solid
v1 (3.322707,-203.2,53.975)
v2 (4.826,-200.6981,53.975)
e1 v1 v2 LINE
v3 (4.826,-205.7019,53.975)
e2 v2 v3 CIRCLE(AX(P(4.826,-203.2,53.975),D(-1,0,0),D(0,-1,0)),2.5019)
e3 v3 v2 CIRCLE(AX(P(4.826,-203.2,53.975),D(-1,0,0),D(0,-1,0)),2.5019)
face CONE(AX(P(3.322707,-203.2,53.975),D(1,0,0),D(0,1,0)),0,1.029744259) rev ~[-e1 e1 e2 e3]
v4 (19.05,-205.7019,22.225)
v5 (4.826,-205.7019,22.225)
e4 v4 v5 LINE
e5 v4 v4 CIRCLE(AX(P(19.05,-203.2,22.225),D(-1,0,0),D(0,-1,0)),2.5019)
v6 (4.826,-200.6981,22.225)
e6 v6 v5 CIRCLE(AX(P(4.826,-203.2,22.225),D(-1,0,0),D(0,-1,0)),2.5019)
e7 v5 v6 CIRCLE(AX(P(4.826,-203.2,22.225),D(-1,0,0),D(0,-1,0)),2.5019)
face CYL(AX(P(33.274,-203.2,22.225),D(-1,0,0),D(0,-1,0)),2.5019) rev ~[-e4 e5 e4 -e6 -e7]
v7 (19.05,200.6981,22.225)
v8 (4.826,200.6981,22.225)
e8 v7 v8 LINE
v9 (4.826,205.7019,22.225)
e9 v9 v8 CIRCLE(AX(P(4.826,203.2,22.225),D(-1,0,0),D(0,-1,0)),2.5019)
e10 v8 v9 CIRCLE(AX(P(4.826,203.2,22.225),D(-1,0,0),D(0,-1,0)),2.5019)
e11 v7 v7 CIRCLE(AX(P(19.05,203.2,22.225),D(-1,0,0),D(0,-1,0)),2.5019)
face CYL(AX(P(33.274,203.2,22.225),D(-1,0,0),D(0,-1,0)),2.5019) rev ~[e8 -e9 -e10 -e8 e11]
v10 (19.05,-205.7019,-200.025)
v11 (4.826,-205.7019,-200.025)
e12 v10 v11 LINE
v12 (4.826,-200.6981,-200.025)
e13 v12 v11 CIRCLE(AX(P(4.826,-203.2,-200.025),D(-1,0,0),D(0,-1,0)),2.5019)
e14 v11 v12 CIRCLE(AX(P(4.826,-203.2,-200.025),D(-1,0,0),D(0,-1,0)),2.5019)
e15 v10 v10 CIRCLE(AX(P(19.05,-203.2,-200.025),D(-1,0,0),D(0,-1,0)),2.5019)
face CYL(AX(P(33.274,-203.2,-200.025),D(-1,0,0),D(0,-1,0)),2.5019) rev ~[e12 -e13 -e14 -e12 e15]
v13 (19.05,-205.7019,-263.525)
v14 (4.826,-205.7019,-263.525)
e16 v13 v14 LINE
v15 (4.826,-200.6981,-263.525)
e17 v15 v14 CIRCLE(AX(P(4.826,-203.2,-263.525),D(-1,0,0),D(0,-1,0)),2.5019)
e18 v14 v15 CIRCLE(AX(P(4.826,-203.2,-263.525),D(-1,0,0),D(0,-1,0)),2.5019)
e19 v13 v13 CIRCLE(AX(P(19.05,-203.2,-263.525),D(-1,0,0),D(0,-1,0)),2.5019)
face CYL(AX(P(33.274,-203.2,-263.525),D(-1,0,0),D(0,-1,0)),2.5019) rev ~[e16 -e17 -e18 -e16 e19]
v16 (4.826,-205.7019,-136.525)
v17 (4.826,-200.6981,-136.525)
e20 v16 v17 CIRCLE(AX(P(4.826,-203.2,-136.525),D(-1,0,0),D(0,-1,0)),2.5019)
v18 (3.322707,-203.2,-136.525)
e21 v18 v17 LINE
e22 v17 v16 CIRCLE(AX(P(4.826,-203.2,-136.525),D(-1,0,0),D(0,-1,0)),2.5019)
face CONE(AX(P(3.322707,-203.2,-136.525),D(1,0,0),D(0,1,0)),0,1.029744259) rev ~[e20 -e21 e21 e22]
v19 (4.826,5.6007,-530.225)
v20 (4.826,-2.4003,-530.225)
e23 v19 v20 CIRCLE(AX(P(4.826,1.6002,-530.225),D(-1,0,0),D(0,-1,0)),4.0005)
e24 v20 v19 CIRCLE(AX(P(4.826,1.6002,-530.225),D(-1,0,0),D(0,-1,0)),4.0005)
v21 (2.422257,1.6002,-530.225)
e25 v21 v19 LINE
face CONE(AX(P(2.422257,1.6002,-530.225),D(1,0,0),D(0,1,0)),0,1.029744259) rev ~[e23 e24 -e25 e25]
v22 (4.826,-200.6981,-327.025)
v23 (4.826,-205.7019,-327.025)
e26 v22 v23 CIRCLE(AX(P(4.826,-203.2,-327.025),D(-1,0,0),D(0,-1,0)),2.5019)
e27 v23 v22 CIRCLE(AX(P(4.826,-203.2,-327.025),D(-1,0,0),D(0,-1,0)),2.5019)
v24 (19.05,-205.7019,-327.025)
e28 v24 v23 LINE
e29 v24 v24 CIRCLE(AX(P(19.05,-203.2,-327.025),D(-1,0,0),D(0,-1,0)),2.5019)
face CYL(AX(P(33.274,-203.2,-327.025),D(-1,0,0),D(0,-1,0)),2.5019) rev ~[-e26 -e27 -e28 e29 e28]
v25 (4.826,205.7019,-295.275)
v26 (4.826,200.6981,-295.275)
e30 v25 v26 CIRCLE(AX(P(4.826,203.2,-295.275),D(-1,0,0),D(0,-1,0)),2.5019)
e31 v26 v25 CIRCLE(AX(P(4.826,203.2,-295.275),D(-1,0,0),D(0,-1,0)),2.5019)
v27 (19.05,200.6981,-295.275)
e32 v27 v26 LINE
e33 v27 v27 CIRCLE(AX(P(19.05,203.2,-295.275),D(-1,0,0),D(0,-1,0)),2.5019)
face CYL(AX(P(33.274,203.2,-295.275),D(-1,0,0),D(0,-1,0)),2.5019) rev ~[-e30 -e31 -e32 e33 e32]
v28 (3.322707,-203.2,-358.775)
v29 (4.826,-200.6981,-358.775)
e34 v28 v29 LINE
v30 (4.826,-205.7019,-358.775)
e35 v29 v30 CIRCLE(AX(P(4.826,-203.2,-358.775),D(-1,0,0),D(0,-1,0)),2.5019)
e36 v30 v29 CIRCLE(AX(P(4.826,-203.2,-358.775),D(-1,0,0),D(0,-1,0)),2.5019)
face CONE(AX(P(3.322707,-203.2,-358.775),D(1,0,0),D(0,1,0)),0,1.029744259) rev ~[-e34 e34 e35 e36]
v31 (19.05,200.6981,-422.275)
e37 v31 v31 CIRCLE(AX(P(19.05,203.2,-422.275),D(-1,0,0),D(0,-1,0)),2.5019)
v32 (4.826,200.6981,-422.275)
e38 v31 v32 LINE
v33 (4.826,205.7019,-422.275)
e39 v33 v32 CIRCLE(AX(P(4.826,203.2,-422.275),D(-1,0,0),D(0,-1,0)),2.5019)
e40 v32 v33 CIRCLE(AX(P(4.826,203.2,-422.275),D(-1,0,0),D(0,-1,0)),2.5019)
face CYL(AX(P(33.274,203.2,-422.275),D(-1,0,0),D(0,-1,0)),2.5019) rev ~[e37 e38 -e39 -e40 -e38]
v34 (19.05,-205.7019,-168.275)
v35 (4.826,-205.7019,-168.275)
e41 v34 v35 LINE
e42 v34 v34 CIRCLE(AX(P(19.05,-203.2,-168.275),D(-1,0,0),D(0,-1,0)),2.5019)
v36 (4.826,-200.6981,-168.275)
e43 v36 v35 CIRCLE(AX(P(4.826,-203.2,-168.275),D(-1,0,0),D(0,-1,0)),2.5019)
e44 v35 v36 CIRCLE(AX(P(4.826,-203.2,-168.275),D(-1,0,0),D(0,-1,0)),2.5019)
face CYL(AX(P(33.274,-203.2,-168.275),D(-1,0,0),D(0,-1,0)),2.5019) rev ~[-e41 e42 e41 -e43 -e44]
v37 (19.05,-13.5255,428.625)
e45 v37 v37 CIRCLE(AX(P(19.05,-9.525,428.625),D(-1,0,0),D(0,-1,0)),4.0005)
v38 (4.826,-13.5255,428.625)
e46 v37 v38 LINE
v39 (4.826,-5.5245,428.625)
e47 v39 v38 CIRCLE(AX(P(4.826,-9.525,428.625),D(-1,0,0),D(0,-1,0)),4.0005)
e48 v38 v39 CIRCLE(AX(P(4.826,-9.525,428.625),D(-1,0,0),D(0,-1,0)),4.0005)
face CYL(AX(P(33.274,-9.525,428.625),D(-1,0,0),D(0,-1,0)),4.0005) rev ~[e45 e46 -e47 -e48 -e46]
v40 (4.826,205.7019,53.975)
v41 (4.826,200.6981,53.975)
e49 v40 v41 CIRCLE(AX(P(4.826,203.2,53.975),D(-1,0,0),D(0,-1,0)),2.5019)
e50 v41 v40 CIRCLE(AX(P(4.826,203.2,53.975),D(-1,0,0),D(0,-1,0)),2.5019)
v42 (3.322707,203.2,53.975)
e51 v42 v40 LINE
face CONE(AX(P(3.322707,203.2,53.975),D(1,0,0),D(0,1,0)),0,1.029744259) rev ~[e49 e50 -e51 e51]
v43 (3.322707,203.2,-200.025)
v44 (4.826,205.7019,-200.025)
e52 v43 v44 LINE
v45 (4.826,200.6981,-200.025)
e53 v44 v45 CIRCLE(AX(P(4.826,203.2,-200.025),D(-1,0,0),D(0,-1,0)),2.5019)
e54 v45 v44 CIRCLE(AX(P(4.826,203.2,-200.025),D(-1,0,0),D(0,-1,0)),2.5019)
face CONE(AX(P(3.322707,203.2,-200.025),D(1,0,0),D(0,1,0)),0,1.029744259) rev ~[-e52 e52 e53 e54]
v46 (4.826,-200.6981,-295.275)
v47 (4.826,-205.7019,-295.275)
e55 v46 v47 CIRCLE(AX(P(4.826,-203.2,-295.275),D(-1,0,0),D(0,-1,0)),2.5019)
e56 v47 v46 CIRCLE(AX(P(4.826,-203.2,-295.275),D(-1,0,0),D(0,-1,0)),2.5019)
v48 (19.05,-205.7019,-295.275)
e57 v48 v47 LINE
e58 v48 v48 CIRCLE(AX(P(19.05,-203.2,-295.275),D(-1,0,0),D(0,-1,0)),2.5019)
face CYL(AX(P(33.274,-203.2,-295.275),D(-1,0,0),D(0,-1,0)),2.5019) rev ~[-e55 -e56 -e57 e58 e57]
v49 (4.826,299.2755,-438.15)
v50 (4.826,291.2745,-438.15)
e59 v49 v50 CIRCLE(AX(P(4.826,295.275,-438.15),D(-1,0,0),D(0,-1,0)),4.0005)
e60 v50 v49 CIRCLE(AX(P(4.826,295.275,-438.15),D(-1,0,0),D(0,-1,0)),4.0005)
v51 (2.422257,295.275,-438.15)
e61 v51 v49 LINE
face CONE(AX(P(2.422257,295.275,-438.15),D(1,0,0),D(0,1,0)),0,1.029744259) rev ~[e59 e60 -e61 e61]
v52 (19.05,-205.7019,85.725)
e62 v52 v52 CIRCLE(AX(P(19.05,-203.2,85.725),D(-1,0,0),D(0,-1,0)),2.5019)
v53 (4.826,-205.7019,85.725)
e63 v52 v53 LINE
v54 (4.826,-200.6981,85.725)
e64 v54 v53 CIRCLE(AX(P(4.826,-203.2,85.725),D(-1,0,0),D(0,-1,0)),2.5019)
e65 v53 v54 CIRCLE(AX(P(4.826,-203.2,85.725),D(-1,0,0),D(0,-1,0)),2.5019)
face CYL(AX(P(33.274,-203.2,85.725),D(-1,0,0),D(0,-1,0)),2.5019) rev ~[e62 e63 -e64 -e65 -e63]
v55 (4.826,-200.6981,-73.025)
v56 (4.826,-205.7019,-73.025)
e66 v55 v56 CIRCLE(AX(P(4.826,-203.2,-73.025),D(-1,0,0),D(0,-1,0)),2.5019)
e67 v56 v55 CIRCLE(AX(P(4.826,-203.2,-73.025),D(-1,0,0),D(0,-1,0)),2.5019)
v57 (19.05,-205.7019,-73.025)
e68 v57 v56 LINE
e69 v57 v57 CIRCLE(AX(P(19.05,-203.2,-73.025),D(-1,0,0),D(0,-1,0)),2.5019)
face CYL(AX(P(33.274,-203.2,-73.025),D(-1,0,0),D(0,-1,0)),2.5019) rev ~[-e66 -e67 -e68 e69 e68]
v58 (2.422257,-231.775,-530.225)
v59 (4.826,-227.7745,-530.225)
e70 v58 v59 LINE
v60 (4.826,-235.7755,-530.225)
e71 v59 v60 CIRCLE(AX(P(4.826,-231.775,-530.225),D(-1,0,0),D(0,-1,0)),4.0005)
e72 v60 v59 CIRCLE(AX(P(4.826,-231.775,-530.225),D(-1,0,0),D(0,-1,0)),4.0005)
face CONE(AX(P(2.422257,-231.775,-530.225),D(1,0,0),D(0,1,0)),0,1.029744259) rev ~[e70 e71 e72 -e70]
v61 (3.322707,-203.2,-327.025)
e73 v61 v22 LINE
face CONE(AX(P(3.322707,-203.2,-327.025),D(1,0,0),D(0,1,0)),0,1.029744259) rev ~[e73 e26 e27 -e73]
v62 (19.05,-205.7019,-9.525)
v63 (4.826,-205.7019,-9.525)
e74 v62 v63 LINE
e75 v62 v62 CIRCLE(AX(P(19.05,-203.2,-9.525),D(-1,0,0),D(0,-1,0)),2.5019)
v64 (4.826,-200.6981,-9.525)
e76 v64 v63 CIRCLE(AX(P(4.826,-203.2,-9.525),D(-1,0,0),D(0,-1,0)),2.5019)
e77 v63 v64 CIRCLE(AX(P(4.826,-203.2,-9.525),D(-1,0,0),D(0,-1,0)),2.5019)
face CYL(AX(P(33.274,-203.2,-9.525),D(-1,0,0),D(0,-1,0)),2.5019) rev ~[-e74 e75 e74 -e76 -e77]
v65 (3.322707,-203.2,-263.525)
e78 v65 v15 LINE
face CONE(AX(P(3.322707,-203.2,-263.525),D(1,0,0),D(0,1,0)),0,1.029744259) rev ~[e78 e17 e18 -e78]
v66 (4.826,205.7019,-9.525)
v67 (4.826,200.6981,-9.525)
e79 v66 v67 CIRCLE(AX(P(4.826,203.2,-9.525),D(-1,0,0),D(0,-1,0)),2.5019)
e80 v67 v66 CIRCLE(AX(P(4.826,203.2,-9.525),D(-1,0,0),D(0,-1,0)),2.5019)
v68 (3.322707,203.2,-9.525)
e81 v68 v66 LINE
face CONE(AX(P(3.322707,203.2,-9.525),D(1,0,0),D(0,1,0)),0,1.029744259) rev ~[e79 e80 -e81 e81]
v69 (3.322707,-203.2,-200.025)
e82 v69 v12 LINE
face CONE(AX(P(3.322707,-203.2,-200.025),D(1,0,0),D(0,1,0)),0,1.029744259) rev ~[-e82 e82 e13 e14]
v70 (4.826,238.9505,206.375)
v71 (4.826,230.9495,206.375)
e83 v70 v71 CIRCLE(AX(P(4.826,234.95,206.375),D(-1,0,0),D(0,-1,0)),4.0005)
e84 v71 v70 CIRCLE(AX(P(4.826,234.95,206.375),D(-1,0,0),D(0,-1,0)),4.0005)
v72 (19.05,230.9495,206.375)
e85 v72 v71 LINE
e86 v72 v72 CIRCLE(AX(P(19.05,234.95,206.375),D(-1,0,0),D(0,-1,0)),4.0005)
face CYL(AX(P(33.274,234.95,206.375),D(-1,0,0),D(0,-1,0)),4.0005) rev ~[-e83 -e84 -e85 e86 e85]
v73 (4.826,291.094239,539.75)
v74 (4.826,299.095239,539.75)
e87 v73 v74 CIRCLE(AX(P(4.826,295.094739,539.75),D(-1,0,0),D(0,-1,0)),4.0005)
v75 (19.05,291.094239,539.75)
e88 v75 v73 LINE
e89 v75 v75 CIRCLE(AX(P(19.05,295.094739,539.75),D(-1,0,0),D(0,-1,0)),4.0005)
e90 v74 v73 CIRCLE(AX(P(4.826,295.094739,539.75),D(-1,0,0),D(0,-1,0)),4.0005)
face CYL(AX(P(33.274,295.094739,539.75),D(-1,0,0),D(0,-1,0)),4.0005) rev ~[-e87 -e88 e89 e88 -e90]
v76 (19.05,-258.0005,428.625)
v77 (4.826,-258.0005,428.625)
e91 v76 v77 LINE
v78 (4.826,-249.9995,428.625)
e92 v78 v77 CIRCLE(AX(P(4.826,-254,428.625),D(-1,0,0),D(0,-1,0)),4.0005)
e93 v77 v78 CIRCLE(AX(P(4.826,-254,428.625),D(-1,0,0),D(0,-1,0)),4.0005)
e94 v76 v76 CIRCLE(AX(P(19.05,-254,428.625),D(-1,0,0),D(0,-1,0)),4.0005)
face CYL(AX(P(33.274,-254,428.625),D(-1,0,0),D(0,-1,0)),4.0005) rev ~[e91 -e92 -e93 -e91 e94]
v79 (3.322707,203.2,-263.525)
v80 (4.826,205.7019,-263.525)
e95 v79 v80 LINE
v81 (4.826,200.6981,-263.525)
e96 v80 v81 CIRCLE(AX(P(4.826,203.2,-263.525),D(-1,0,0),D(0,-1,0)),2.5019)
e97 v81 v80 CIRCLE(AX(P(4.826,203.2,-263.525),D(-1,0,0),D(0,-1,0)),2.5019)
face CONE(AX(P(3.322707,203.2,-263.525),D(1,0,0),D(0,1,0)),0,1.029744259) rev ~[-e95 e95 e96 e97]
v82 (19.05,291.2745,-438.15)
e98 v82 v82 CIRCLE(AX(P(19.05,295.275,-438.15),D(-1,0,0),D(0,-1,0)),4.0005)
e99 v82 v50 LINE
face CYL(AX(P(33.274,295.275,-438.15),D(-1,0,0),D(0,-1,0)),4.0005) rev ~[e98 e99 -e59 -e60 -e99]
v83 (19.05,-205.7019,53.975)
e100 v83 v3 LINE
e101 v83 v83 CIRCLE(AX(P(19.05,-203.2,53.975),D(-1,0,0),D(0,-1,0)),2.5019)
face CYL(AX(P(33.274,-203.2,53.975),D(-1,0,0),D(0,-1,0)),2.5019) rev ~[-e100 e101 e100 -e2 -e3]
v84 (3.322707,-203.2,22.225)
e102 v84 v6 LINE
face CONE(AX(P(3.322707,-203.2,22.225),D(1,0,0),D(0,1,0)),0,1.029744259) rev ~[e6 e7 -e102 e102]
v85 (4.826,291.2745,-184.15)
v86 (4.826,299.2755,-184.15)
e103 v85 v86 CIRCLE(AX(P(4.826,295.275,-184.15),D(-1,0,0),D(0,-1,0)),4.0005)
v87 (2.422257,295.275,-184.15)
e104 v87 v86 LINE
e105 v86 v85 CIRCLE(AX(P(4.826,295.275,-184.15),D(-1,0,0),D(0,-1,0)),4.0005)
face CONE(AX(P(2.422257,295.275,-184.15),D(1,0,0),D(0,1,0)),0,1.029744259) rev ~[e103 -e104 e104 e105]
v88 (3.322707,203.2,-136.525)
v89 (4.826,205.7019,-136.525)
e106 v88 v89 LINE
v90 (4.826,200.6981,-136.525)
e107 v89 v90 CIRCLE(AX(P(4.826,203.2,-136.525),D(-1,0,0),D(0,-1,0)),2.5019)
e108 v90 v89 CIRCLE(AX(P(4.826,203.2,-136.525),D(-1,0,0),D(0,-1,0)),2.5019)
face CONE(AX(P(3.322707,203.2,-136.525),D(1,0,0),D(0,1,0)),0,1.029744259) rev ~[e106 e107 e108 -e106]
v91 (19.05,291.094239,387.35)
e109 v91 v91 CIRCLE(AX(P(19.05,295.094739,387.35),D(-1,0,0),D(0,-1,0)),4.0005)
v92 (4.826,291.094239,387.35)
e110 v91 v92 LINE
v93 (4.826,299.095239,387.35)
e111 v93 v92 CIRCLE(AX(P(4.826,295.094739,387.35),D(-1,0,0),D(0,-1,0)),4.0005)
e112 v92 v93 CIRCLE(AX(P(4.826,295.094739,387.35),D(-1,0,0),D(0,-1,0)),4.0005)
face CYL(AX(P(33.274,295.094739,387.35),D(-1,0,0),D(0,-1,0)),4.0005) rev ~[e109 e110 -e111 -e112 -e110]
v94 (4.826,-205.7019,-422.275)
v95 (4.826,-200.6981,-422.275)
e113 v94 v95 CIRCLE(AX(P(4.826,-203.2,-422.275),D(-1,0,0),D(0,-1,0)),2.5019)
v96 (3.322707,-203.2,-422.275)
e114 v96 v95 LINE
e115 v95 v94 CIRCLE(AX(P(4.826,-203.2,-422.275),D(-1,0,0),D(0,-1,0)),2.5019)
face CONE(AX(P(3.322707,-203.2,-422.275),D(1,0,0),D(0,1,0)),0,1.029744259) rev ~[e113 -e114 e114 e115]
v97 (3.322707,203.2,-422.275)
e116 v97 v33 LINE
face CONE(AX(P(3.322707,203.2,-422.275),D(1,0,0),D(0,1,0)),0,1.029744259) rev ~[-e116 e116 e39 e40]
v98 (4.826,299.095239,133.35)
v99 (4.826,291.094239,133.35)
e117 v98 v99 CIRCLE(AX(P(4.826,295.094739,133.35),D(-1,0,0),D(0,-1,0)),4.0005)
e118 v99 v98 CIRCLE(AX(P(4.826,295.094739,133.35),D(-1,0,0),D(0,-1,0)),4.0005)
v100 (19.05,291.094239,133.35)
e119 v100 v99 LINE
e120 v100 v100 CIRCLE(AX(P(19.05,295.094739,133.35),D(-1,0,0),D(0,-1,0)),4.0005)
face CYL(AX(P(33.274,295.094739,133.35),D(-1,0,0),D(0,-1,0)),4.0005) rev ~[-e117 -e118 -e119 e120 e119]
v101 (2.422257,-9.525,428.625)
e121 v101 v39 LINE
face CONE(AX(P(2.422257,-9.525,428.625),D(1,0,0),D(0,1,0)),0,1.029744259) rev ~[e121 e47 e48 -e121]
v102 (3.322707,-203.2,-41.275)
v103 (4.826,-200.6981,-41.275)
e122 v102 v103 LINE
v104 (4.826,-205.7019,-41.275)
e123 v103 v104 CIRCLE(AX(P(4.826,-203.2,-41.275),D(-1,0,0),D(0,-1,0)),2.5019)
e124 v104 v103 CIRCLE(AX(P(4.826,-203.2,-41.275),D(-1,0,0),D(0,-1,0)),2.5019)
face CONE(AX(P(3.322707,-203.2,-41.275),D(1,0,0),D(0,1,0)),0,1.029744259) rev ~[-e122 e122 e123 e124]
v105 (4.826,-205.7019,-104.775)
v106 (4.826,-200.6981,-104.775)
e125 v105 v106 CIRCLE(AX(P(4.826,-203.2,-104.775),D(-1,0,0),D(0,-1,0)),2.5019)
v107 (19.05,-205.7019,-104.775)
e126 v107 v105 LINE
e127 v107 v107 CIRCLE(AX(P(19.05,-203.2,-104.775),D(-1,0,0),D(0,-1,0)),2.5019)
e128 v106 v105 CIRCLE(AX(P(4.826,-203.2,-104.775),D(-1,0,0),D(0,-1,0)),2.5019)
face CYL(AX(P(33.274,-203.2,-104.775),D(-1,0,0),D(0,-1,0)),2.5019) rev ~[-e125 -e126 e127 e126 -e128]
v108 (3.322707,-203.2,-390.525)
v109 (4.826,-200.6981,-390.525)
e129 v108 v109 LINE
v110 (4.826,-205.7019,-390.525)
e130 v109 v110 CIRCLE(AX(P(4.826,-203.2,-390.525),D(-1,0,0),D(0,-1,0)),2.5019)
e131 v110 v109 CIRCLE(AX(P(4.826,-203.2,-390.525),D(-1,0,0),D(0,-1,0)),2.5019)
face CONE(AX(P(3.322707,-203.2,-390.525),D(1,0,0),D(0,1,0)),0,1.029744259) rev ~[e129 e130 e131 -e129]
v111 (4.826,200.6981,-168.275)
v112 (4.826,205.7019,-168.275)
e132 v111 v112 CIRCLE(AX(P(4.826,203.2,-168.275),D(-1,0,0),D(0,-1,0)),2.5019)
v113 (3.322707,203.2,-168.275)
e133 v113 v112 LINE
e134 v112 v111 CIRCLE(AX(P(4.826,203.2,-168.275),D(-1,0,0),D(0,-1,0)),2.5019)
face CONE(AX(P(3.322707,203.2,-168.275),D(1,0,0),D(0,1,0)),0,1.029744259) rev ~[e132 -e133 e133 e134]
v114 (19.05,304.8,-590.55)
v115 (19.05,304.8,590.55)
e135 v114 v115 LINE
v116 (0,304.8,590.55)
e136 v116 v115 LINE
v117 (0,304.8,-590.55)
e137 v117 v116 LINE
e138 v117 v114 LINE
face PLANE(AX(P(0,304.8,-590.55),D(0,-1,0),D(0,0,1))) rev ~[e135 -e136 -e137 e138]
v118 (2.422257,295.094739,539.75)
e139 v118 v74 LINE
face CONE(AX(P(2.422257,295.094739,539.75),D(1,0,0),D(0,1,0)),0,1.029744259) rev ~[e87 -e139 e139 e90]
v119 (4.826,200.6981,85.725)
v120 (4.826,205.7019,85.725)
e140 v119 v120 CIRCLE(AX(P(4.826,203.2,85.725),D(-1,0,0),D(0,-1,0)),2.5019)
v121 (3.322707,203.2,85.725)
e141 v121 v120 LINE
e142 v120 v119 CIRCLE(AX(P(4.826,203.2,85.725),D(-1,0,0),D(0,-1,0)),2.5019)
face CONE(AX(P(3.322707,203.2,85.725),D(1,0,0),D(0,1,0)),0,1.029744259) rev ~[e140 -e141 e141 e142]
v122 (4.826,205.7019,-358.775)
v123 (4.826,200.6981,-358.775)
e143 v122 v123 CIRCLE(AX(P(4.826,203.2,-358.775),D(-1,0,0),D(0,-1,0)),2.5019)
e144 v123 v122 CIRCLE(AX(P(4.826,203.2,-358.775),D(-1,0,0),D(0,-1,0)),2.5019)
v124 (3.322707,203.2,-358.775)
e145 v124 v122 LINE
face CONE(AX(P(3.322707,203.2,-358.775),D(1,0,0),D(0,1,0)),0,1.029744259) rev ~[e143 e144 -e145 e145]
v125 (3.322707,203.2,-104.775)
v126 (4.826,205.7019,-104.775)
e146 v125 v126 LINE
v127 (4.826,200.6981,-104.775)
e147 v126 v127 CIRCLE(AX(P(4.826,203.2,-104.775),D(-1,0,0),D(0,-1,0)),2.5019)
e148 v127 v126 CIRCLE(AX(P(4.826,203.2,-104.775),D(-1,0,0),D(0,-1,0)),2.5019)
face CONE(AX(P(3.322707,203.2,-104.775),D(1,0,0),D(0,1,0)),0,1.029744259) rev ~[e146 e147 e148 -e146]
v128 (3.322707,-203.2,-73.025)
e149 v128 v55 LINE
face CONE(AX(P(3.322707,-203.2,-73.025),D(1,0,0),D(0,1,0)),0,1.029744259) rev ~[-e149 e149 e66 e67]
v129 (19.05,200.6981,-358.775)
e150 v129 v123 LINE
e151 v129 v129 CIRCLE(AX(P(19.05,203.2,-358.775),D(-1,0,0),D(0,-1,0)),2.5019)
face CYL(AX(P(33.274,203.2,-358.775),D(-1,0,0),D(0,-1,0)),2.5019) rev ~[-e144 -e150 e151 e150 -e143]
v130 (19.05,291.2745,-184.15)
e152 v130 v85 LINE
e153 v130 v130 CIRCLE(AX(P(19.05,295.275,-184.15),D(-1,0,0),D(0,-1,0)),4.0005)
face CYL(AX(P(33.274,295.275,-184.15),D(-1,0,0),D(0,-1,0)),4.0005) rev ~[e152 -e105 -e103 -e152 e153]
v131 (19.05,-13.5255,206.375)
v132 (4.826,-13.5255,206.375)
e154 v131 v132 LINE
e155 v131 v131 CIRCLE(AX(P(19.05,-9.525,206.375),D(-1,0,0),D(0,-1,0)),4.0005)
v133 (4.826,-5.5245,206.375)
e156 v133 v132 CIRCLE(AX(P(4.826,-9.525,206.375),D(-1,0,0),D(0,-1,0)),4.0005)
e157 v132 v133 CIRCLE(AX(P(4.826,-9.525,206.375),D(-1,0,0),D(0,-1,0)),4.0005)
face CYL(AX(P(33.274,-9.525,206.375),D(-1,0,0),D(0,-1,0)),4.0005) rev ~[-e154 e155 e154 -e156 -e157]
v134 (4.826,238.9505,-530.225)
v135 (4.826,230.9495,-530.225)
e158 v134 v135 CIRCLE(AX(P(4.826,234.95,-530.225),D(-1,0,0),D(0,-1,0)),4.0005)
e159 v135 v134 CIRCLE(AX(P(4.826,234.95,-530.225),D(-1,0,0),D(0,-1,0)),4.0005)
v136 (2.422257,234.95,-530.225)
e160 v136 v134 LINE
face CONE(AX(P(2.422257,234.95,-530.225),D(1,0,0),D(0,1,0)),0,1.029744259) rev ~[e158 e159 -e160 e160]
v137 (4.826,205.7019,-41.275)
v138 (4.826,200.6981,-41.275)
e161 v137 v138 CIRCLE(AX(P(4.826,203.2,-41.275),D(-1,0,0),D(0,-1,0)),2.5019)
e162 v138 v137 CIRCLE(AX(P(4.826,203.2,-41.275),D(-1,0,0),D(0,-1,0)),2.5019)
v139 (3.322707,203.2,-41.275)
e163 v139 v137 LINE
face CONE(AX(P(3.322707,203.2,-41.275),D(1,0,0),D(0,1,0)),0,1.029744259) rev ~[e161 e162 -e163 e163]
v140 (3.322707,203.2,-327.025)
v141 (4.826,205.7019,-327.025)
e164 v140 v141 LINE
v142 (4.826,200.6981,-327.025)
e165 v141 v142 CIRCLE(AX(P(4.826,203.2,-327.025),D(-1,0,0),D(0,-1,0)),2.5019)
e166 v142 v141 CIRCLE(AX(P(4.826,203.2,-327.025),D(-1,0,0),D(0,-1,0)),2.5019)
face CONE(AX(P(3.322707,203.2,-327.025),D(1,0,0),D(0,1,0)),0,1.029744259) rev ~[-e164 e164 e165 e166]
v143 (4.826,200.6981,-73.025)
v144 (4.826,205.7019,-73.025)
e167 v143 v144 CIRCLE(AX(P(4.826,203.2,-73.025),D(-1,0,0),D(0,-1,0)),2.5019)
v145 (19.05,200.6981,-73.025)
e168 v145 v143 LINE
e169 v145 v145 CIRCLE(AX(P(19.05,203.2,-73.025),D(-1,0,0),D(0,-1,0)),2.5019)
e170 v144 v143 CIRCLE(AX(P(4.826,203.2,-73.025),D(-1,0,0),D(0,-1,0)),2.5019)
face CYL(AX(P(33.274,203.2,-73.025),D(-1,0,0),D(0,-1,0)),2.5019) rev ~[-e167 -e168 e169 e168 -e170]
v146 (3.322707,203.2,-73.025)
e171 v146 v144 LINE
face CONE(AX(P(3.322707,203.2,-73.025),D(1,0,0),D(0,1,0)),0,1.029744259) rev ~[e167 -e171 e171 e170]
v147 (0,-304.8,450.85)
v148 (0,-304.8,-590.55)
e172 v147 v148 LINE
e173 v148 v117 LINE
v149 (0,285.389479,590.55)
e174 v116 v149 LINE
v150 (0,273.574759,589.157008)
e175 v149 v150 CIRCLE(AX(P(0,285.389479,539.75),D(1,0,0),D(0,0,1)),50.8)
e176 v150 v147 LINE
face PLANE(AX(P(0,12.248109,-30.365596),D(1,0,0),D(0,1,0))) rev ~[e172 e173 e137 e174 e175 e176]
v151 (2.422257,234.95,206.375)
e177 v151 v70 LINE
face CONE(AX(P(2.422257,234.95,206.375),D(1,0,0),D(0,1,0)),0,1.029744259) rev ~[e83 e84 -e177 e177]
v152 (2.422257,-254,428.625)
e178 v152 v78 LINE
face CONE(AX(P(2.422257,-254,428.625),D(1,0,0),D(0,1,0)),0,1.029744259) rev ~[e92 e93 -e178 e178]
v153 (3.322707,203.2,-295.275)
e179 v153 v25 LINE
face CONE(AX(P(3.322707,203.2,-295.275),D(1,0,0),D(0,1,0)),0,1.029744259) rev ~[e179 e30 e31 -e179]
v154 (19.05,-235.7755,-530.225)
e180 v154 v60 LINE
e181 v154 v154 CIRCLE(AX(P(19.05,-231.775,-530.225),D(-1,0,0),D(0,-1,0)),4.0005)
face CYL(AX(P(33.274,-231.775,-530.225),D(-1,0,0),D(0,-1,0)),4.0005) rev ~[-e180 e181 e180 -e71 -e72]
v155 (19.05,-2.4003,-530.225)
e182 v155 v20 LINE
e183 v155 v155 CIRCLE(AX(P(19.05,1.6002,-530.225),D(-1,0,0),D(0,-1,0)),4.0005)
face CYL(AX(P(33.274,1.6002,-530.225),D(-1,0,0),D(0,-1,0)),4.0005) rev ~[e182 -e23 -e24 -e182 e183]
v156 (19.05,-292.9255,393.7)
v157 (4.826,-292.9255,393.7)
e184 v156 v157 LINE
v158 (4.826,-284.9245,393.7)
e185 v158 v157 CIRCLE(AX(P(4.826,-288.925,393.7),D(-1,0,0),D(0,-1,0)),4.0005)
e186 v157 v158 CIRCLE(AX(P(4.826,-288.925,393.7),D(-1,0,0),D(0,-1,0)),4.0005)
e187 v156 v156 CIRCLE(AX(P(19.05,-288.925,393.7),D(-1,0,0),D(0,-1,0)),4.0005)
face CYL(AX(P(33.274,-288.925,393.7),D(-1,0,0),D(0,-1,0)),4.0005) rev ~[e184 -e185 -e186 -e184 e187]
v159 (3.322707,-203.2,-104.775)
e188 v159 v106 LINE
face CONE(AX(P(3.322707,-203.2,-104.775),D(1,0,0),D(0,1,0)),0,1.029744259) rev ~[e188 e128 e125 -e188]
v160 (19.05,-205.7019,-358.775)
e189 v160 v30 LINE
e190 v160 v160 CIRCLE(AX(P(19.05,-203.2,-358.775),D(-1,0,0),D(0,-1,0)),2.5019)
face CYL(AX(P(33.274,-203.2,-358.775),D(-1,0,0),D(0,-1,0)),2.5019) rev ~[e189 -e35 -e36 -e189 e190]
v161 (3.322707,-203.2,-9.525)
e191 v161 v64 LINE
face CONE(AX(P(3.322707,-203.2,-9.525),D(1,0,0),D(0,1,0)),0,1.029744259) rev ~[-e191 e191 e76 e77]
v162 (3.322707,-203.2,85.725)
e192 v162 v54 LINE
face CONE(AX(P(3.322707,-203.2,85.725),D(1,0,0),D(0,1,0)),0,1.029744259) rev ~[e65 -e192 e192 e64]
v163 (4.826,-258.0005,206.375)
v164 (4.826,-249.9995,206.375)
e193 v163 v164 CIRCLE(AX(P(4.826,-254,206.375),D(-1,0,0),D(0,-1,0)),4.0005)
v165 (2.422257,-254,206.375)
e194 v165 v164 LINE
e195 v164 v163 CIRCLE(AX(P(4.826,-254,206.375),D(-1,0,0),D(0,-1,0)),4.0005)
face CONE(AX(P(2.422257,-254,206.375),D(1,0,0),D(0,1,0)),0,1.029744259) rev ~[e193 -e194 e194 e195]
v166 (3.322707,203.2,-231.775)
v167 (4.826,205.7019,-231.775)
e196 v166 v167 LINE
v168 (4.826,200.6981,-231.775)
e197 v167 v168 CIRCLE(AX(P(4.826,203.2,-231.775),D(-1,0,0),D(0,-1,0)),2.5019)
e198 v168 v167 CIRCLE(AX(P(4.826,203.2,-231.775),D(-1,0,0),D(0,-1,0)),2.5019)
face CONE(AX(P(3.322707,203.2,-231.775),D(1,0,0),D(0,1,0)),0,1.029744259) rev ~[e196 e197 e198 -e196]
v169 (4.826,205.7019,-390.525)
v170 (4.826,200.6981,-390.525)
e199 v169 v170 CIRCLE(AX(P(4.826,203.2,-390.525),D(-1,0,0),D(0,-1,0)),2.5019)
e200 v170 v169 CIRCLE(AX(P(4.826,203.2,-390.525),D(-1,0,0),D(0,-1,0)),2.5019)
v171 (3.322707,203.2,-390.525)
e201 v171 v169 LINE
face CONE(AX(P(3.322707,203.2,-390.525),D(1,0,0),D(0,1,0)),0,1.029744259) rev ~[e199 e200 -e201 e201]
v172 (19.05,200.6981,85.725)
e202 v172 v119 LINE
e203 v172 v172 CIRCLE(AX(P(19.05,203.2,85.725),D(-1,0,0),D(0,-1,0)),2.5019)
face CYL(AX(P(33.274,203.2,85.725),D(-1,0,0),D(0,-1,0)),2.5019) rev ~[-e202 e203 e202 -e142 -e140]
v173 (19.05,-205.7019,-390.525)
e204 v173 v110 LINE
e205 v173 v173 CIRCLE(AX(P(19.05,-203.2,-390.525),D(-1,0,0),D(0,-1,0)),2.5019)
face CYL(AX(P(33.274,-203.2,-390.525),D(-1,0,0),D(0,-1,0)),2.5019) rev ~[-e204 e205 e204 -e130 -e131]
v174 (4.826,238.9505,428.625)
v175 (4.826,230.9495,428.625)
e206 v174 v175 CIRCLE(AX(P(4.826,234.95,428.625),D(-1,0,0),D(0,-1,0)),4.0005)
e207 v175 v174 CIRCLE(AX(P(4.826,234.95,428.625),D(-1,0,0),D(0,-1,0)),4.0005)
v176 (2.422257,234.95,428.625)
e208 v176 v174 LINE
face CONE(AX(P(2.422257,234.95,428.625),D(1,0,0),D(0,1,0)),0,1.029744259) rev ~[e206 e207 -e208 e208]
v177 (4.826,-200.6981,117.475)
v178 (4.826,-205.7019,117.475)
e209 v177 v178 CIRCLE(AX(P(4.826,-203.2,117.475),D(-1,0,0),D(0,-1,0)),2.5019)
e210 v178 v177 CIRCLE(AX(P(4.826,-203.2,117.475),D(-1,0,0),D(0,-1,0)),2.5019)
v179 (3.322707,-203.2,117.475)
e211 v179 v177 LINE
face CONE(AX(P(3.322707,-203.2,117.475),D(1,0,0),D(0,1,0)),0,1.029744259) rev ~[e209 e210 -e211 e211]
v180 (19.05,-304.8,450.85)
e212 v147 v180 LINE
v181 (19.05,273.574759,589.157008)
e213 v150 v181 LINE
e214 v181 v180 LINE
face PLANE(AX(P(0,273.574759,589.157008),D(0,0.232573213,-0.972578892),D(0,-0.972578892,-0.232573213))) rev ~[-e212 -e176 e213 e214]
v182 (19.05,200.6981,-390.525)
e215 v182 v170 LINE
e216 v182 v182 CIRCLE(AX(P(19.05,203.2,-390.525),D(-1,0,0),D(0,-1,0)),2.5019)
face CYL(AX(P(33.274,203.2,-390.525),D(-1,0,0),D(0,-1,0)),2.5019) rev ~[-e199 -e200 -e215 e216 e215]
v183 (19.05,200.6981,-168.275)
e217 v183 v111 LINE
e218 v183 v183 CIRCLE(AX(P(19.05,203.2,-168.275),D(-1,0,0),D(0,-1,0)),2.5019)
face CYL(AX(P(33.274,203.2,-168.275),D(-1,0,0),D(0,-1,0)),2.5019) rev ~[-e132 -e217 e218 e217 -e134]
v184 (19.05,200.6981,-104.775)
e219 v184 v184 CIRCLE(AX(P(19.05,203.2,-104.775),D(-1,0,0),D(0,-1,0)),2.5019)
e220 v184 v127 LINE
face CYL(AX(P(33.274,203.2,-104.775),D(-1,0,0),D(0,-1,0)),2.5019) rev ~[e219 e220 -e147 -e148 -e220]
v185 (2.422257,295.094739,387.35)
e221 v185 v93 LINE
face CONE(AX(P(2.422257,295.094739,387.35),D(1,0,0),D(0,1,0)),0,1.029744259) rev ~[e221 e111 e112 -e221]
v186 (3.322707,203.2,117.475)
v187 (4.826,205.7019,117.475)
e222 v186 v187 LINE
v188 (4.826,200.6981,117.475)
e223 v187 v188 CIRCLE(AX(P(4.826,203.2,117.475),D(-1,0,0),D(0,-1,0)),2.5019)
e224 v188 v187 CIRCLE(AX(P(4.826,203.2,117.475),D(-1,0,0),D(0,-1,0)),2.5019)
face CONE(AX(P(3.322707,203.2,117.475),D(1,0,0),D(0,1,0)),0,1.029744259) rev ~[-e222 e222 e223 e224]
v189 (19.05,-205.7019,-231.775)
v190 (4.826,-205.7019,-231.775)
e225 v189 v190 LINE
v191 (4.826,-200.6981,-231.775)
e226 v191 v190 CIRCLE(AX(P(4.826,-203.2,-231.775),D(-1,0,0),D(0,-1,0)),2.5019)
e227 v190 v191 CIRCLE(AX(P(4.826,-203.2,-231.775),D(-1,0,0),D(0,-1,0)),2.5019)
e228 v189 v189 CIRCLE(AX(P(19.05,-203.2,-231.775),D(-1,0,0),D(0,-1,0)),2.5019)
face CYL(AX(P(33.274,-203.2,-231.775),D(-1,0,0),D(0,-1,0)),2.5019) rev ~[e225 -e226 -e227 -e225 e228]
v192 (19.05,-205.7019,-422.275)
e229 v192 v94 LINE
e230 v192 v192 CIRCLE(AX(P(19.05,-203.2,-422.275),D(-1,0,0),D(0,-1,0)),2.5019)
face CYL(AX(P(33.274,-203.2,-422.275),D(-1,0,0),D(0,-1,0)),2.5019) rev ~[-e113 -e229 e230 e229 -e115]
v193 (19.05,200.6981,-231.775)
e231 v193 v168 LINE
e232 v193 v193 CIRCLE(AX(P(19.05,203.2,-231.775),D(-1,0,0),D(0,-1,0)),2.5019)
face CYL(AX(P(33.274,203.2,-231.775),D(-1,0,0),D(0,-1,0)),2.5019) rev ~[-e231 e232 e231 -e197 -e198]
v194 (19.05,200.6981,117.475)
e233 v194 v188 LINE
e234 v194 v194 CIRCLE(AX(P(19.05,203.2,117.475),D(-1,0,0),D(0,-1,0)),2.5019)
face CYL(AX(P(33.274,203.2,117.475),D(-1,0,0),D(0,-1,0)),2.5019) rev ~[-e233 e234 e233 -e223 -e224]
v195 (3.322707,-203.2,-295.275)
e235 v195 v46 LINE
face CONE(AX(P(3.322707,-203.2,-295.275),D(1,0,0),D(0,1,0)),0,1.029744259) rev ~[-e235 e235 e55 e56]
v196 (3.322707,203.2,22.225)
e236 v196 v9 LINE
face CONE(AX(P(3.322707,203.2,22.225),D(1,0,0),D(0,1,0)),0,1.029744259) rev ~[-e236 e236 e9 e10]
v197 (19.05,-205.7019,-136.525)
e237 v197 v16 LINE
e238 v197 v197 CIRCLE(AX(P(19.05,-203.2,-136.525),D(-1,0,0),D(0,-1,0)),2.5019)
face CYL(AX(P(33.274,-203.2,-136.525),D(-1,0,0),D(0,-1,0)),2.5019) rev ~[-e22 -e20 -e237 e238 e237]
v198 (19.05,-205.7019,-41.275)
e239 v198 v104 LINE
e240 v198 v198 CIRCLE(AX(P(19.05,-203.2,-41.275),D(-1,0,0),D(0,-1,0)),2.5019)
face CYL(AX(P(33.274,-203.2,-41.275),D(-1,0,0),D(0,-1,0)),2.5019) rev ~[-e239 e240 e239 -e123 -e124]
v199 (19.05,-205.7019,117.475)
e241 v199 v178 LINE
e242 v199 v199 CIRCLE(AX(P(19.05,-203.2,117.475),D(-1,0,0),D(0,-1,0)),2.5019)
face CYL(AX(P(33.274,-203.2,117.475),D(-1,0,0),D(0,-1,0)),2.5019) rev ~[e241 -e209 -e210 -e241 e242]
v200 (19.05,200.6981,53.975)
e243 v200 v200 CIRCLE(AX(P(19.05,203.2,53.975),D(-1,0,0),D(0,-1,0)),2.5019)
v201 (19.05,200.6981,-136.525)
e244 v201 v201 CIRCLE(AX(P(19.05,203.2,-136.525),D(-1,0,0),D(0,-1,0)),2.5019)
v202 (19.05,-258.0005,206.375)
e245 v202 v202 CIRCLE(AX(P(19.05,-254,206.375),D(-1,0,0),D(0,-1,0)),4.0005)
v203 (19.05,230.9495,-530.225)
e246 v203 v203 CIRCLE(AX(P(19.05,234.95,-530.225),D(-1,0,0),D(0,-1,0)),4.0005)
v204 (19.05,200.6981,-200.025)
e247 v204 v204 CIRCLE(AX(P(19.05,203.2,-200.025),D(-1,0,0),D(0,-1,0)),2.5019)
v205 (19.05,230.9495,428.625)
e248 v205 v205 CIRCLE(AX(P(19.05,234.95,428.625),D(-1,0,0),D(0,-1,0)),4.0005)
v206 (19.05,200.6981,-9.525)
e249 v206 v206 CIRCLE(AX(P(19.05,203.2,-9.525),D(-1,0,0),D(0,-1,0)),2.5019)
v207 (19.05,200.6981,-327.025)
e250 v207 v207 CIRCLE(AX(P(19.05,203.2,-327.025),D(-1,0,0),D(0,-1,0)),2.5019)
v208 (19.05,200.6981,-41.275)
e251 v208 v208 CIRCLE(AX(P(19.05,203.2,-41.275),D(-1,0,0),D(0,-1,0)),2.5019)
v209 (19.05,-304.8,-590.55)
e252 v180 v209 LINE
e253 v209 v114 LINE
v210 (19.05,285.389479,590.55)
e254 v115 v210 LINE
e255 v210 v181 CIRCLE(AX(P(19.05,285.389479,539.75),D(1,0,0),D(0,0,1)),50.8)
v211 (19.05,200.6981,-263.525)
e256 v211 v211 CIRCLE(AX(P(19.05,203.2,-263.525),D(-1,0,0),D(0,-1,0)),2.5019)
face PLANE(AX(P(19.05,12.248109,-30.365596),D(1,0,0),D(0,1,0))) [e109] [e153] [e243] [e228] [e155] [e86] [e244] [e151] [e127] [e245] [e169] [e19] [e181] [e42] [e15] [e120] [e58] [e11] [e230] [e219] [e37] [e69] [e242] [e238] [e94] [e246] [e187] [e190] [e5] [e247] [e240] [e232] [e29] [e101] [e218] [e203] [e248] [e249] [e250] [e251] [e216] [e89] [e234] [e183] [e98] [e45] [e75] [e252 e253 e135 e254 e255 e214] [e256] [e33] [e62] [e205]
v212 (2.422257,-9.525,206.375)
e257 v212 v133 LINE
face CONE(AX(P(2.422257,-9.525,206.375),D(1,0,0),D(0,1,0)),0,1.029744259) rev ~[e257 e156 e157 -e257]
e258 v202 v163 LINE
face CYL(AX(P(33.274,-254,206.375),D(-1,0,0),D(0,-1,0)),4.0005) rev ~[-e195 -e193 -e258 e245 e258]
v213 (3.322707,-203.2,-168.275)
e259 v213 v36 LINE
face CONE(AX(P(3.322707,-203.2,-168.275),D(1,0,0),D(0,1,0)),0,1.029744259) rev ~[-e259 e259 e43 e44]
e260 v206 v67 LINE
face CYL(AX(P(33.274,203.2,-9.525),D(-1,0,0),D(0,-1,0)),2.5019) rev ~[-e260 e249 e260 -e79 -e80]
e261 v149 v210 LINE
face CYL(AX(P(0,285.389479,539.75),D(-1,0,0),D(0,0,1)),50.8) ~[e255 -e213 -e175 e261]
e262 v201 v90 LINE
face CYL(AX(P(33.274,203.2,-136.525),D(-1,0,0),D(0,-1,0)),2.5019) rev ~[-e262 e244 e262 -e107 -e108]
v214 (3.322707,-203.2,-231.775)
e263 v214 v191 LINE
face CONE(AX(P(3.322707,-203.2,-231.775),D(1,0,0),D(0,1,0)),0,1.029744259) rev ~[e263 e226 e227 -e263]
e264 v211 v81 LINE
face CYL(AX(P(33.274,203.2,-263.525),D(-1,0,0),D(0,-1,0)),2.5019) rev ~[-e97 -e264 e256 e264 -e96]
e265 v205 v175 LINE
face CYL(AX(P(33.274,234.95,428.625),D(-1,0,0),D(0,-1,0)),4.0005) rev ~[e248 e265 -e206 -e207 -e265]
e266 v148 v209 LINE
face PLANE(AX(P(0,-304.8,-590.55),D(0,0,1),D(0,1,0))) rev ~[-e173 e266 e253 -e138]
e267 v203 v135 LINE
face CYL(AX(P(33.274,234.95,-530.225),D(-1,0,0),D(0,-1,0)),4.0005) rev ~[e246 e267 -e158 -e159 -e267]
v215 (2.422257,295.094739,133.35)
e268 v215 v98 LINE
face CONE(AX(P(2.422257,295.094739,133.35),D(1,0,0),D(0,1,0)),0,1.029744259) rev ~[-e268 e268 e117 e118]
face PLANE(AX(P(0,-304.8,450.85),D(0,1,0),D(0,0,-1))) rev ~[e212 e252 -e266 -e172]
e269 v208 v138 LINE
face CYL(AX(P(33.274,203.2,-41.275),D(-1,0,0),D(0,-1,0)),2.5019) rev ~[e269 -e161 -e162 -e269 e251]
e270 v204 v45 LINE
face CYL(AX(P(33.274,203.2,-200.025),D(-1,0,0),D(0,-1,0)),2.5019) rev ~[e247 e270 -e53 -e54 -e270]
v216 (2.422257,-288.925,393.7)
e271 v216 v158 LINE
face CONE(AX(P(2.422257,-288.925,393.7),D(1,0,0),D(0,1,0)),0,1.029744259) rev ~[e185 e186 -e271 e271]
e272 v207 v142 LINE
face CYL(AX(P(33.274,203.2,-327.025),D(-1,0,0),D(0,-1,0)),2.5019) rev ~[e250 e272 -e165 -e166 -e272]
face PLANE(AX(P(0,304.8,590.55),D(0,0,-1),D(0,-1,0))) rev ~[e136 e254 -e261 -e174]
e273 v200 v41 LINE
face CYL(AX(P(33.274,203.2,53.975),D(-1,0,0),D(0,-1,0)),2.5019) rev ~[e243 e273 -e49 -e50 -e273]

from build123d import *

# Parameters (mm, degrees)
F1_DEPTH = 19.05
F3_D     = 8.001
F3_DEPTH = 14.224
F3_TIP   = 2.4037429064
F5_D     = 5.0038
F5_DEPTH = 14.224
F5_TIP   = 1.5032931827


with BuildPart() as f1:
    # F0 (on Right) → F1 (new body)
    with BuildSketch(Plane.YZ):
        with BuildLine():
            Line((304.8, -590.55), (304.8, 590.55))
            Line((304.8, 590.55), (285.3894786878, 590.55))
            ThreePointArc((285.3894786878, 590.55), (279.4412012464, 590.2005500018), (273.5747594562, 589.157007696))
            Line((273.5747594562, 589.157007696), (-304.8, 450.85))
            Line((-304.8, 450.85), (-304.8, 428.625))
            Line((-304.8, 428.625), (-304.8, -590.55))
            Line((-304.8, -590.55), (304.8, -590.55))
        make_face()
    extrude(amount=F1_DEPTH)

    # F3
    with Locations(Plane.YZ.offset(19.05)):
        with Locations((-254, 428.625), (-288.925, 393.7), (-9.525, 428.625), (234.95, 428.625), (-254, 206.375), (-9.525, 206.375), (234.95, 206.375), (295.0947393439, 539.75), (295.0947393439, 387.35), (295.0947393439, 133.35), (295.275, -184.15), (295.275, -438.15), (234.95, -530.225), (-231.775, -530.225), (1.6002, -530.225)):
            Hole(F3_D / 2, depth=F3_DEPTH)
            with Locations((0, 0, -(F3_DEPTH + F3_TIP / 2))):  # 118° drill point
                Cone(0, F3_D / 2, F3_TIP, mode=Mode.SUBTRACT)

    # F5
    with Locations(Plane.YZ.offset(19.05)):
        with Locations((-203.2, 117.475), (-203.2, 85.725), (-203.2, 53.975), (-203.2, 22.225), (-203.2, -9.525), (-203.2, -41.275), (-203.2, -73.025), (-203.2, -104.775), (-203.2, -136.525), (-203.2, -168.275), (-203.2, -200.025), (-203.2, -231.775), (-203.2, -263.525), (-203.2, -295.275), (-203.2, -327.025), (-203.2, -358.775), (-203.2, -390.525), (-203.2, -422.275), (203.2, -422.275), (203.2, -390.525), (203.2, -358.775), (203.2, -327.025), (203.2, -295.275), (203.2, -263.525), (203.2, -231.775), (203.2, -200.025), (203.2, -168.275), (203.2, -136.525), (203.2, -104.775), (203.2, -73.025), (203.2, -41.275), (203.2, -9.525), (203.2, 22.225), (203.2, 53.975), (203.2, 85.725), (203.2, 117.475)):
            Hole(F5_D / 2, depth=F5_DEPTH)
            with Locations((0, 0, -(F5_DEPTH + F5_TIP / 2))):  # 118° drill point
                Cone(0, F5_D / 2, F5_TIP, mode=Mode.SUBTRACT)


solid = f1.part
